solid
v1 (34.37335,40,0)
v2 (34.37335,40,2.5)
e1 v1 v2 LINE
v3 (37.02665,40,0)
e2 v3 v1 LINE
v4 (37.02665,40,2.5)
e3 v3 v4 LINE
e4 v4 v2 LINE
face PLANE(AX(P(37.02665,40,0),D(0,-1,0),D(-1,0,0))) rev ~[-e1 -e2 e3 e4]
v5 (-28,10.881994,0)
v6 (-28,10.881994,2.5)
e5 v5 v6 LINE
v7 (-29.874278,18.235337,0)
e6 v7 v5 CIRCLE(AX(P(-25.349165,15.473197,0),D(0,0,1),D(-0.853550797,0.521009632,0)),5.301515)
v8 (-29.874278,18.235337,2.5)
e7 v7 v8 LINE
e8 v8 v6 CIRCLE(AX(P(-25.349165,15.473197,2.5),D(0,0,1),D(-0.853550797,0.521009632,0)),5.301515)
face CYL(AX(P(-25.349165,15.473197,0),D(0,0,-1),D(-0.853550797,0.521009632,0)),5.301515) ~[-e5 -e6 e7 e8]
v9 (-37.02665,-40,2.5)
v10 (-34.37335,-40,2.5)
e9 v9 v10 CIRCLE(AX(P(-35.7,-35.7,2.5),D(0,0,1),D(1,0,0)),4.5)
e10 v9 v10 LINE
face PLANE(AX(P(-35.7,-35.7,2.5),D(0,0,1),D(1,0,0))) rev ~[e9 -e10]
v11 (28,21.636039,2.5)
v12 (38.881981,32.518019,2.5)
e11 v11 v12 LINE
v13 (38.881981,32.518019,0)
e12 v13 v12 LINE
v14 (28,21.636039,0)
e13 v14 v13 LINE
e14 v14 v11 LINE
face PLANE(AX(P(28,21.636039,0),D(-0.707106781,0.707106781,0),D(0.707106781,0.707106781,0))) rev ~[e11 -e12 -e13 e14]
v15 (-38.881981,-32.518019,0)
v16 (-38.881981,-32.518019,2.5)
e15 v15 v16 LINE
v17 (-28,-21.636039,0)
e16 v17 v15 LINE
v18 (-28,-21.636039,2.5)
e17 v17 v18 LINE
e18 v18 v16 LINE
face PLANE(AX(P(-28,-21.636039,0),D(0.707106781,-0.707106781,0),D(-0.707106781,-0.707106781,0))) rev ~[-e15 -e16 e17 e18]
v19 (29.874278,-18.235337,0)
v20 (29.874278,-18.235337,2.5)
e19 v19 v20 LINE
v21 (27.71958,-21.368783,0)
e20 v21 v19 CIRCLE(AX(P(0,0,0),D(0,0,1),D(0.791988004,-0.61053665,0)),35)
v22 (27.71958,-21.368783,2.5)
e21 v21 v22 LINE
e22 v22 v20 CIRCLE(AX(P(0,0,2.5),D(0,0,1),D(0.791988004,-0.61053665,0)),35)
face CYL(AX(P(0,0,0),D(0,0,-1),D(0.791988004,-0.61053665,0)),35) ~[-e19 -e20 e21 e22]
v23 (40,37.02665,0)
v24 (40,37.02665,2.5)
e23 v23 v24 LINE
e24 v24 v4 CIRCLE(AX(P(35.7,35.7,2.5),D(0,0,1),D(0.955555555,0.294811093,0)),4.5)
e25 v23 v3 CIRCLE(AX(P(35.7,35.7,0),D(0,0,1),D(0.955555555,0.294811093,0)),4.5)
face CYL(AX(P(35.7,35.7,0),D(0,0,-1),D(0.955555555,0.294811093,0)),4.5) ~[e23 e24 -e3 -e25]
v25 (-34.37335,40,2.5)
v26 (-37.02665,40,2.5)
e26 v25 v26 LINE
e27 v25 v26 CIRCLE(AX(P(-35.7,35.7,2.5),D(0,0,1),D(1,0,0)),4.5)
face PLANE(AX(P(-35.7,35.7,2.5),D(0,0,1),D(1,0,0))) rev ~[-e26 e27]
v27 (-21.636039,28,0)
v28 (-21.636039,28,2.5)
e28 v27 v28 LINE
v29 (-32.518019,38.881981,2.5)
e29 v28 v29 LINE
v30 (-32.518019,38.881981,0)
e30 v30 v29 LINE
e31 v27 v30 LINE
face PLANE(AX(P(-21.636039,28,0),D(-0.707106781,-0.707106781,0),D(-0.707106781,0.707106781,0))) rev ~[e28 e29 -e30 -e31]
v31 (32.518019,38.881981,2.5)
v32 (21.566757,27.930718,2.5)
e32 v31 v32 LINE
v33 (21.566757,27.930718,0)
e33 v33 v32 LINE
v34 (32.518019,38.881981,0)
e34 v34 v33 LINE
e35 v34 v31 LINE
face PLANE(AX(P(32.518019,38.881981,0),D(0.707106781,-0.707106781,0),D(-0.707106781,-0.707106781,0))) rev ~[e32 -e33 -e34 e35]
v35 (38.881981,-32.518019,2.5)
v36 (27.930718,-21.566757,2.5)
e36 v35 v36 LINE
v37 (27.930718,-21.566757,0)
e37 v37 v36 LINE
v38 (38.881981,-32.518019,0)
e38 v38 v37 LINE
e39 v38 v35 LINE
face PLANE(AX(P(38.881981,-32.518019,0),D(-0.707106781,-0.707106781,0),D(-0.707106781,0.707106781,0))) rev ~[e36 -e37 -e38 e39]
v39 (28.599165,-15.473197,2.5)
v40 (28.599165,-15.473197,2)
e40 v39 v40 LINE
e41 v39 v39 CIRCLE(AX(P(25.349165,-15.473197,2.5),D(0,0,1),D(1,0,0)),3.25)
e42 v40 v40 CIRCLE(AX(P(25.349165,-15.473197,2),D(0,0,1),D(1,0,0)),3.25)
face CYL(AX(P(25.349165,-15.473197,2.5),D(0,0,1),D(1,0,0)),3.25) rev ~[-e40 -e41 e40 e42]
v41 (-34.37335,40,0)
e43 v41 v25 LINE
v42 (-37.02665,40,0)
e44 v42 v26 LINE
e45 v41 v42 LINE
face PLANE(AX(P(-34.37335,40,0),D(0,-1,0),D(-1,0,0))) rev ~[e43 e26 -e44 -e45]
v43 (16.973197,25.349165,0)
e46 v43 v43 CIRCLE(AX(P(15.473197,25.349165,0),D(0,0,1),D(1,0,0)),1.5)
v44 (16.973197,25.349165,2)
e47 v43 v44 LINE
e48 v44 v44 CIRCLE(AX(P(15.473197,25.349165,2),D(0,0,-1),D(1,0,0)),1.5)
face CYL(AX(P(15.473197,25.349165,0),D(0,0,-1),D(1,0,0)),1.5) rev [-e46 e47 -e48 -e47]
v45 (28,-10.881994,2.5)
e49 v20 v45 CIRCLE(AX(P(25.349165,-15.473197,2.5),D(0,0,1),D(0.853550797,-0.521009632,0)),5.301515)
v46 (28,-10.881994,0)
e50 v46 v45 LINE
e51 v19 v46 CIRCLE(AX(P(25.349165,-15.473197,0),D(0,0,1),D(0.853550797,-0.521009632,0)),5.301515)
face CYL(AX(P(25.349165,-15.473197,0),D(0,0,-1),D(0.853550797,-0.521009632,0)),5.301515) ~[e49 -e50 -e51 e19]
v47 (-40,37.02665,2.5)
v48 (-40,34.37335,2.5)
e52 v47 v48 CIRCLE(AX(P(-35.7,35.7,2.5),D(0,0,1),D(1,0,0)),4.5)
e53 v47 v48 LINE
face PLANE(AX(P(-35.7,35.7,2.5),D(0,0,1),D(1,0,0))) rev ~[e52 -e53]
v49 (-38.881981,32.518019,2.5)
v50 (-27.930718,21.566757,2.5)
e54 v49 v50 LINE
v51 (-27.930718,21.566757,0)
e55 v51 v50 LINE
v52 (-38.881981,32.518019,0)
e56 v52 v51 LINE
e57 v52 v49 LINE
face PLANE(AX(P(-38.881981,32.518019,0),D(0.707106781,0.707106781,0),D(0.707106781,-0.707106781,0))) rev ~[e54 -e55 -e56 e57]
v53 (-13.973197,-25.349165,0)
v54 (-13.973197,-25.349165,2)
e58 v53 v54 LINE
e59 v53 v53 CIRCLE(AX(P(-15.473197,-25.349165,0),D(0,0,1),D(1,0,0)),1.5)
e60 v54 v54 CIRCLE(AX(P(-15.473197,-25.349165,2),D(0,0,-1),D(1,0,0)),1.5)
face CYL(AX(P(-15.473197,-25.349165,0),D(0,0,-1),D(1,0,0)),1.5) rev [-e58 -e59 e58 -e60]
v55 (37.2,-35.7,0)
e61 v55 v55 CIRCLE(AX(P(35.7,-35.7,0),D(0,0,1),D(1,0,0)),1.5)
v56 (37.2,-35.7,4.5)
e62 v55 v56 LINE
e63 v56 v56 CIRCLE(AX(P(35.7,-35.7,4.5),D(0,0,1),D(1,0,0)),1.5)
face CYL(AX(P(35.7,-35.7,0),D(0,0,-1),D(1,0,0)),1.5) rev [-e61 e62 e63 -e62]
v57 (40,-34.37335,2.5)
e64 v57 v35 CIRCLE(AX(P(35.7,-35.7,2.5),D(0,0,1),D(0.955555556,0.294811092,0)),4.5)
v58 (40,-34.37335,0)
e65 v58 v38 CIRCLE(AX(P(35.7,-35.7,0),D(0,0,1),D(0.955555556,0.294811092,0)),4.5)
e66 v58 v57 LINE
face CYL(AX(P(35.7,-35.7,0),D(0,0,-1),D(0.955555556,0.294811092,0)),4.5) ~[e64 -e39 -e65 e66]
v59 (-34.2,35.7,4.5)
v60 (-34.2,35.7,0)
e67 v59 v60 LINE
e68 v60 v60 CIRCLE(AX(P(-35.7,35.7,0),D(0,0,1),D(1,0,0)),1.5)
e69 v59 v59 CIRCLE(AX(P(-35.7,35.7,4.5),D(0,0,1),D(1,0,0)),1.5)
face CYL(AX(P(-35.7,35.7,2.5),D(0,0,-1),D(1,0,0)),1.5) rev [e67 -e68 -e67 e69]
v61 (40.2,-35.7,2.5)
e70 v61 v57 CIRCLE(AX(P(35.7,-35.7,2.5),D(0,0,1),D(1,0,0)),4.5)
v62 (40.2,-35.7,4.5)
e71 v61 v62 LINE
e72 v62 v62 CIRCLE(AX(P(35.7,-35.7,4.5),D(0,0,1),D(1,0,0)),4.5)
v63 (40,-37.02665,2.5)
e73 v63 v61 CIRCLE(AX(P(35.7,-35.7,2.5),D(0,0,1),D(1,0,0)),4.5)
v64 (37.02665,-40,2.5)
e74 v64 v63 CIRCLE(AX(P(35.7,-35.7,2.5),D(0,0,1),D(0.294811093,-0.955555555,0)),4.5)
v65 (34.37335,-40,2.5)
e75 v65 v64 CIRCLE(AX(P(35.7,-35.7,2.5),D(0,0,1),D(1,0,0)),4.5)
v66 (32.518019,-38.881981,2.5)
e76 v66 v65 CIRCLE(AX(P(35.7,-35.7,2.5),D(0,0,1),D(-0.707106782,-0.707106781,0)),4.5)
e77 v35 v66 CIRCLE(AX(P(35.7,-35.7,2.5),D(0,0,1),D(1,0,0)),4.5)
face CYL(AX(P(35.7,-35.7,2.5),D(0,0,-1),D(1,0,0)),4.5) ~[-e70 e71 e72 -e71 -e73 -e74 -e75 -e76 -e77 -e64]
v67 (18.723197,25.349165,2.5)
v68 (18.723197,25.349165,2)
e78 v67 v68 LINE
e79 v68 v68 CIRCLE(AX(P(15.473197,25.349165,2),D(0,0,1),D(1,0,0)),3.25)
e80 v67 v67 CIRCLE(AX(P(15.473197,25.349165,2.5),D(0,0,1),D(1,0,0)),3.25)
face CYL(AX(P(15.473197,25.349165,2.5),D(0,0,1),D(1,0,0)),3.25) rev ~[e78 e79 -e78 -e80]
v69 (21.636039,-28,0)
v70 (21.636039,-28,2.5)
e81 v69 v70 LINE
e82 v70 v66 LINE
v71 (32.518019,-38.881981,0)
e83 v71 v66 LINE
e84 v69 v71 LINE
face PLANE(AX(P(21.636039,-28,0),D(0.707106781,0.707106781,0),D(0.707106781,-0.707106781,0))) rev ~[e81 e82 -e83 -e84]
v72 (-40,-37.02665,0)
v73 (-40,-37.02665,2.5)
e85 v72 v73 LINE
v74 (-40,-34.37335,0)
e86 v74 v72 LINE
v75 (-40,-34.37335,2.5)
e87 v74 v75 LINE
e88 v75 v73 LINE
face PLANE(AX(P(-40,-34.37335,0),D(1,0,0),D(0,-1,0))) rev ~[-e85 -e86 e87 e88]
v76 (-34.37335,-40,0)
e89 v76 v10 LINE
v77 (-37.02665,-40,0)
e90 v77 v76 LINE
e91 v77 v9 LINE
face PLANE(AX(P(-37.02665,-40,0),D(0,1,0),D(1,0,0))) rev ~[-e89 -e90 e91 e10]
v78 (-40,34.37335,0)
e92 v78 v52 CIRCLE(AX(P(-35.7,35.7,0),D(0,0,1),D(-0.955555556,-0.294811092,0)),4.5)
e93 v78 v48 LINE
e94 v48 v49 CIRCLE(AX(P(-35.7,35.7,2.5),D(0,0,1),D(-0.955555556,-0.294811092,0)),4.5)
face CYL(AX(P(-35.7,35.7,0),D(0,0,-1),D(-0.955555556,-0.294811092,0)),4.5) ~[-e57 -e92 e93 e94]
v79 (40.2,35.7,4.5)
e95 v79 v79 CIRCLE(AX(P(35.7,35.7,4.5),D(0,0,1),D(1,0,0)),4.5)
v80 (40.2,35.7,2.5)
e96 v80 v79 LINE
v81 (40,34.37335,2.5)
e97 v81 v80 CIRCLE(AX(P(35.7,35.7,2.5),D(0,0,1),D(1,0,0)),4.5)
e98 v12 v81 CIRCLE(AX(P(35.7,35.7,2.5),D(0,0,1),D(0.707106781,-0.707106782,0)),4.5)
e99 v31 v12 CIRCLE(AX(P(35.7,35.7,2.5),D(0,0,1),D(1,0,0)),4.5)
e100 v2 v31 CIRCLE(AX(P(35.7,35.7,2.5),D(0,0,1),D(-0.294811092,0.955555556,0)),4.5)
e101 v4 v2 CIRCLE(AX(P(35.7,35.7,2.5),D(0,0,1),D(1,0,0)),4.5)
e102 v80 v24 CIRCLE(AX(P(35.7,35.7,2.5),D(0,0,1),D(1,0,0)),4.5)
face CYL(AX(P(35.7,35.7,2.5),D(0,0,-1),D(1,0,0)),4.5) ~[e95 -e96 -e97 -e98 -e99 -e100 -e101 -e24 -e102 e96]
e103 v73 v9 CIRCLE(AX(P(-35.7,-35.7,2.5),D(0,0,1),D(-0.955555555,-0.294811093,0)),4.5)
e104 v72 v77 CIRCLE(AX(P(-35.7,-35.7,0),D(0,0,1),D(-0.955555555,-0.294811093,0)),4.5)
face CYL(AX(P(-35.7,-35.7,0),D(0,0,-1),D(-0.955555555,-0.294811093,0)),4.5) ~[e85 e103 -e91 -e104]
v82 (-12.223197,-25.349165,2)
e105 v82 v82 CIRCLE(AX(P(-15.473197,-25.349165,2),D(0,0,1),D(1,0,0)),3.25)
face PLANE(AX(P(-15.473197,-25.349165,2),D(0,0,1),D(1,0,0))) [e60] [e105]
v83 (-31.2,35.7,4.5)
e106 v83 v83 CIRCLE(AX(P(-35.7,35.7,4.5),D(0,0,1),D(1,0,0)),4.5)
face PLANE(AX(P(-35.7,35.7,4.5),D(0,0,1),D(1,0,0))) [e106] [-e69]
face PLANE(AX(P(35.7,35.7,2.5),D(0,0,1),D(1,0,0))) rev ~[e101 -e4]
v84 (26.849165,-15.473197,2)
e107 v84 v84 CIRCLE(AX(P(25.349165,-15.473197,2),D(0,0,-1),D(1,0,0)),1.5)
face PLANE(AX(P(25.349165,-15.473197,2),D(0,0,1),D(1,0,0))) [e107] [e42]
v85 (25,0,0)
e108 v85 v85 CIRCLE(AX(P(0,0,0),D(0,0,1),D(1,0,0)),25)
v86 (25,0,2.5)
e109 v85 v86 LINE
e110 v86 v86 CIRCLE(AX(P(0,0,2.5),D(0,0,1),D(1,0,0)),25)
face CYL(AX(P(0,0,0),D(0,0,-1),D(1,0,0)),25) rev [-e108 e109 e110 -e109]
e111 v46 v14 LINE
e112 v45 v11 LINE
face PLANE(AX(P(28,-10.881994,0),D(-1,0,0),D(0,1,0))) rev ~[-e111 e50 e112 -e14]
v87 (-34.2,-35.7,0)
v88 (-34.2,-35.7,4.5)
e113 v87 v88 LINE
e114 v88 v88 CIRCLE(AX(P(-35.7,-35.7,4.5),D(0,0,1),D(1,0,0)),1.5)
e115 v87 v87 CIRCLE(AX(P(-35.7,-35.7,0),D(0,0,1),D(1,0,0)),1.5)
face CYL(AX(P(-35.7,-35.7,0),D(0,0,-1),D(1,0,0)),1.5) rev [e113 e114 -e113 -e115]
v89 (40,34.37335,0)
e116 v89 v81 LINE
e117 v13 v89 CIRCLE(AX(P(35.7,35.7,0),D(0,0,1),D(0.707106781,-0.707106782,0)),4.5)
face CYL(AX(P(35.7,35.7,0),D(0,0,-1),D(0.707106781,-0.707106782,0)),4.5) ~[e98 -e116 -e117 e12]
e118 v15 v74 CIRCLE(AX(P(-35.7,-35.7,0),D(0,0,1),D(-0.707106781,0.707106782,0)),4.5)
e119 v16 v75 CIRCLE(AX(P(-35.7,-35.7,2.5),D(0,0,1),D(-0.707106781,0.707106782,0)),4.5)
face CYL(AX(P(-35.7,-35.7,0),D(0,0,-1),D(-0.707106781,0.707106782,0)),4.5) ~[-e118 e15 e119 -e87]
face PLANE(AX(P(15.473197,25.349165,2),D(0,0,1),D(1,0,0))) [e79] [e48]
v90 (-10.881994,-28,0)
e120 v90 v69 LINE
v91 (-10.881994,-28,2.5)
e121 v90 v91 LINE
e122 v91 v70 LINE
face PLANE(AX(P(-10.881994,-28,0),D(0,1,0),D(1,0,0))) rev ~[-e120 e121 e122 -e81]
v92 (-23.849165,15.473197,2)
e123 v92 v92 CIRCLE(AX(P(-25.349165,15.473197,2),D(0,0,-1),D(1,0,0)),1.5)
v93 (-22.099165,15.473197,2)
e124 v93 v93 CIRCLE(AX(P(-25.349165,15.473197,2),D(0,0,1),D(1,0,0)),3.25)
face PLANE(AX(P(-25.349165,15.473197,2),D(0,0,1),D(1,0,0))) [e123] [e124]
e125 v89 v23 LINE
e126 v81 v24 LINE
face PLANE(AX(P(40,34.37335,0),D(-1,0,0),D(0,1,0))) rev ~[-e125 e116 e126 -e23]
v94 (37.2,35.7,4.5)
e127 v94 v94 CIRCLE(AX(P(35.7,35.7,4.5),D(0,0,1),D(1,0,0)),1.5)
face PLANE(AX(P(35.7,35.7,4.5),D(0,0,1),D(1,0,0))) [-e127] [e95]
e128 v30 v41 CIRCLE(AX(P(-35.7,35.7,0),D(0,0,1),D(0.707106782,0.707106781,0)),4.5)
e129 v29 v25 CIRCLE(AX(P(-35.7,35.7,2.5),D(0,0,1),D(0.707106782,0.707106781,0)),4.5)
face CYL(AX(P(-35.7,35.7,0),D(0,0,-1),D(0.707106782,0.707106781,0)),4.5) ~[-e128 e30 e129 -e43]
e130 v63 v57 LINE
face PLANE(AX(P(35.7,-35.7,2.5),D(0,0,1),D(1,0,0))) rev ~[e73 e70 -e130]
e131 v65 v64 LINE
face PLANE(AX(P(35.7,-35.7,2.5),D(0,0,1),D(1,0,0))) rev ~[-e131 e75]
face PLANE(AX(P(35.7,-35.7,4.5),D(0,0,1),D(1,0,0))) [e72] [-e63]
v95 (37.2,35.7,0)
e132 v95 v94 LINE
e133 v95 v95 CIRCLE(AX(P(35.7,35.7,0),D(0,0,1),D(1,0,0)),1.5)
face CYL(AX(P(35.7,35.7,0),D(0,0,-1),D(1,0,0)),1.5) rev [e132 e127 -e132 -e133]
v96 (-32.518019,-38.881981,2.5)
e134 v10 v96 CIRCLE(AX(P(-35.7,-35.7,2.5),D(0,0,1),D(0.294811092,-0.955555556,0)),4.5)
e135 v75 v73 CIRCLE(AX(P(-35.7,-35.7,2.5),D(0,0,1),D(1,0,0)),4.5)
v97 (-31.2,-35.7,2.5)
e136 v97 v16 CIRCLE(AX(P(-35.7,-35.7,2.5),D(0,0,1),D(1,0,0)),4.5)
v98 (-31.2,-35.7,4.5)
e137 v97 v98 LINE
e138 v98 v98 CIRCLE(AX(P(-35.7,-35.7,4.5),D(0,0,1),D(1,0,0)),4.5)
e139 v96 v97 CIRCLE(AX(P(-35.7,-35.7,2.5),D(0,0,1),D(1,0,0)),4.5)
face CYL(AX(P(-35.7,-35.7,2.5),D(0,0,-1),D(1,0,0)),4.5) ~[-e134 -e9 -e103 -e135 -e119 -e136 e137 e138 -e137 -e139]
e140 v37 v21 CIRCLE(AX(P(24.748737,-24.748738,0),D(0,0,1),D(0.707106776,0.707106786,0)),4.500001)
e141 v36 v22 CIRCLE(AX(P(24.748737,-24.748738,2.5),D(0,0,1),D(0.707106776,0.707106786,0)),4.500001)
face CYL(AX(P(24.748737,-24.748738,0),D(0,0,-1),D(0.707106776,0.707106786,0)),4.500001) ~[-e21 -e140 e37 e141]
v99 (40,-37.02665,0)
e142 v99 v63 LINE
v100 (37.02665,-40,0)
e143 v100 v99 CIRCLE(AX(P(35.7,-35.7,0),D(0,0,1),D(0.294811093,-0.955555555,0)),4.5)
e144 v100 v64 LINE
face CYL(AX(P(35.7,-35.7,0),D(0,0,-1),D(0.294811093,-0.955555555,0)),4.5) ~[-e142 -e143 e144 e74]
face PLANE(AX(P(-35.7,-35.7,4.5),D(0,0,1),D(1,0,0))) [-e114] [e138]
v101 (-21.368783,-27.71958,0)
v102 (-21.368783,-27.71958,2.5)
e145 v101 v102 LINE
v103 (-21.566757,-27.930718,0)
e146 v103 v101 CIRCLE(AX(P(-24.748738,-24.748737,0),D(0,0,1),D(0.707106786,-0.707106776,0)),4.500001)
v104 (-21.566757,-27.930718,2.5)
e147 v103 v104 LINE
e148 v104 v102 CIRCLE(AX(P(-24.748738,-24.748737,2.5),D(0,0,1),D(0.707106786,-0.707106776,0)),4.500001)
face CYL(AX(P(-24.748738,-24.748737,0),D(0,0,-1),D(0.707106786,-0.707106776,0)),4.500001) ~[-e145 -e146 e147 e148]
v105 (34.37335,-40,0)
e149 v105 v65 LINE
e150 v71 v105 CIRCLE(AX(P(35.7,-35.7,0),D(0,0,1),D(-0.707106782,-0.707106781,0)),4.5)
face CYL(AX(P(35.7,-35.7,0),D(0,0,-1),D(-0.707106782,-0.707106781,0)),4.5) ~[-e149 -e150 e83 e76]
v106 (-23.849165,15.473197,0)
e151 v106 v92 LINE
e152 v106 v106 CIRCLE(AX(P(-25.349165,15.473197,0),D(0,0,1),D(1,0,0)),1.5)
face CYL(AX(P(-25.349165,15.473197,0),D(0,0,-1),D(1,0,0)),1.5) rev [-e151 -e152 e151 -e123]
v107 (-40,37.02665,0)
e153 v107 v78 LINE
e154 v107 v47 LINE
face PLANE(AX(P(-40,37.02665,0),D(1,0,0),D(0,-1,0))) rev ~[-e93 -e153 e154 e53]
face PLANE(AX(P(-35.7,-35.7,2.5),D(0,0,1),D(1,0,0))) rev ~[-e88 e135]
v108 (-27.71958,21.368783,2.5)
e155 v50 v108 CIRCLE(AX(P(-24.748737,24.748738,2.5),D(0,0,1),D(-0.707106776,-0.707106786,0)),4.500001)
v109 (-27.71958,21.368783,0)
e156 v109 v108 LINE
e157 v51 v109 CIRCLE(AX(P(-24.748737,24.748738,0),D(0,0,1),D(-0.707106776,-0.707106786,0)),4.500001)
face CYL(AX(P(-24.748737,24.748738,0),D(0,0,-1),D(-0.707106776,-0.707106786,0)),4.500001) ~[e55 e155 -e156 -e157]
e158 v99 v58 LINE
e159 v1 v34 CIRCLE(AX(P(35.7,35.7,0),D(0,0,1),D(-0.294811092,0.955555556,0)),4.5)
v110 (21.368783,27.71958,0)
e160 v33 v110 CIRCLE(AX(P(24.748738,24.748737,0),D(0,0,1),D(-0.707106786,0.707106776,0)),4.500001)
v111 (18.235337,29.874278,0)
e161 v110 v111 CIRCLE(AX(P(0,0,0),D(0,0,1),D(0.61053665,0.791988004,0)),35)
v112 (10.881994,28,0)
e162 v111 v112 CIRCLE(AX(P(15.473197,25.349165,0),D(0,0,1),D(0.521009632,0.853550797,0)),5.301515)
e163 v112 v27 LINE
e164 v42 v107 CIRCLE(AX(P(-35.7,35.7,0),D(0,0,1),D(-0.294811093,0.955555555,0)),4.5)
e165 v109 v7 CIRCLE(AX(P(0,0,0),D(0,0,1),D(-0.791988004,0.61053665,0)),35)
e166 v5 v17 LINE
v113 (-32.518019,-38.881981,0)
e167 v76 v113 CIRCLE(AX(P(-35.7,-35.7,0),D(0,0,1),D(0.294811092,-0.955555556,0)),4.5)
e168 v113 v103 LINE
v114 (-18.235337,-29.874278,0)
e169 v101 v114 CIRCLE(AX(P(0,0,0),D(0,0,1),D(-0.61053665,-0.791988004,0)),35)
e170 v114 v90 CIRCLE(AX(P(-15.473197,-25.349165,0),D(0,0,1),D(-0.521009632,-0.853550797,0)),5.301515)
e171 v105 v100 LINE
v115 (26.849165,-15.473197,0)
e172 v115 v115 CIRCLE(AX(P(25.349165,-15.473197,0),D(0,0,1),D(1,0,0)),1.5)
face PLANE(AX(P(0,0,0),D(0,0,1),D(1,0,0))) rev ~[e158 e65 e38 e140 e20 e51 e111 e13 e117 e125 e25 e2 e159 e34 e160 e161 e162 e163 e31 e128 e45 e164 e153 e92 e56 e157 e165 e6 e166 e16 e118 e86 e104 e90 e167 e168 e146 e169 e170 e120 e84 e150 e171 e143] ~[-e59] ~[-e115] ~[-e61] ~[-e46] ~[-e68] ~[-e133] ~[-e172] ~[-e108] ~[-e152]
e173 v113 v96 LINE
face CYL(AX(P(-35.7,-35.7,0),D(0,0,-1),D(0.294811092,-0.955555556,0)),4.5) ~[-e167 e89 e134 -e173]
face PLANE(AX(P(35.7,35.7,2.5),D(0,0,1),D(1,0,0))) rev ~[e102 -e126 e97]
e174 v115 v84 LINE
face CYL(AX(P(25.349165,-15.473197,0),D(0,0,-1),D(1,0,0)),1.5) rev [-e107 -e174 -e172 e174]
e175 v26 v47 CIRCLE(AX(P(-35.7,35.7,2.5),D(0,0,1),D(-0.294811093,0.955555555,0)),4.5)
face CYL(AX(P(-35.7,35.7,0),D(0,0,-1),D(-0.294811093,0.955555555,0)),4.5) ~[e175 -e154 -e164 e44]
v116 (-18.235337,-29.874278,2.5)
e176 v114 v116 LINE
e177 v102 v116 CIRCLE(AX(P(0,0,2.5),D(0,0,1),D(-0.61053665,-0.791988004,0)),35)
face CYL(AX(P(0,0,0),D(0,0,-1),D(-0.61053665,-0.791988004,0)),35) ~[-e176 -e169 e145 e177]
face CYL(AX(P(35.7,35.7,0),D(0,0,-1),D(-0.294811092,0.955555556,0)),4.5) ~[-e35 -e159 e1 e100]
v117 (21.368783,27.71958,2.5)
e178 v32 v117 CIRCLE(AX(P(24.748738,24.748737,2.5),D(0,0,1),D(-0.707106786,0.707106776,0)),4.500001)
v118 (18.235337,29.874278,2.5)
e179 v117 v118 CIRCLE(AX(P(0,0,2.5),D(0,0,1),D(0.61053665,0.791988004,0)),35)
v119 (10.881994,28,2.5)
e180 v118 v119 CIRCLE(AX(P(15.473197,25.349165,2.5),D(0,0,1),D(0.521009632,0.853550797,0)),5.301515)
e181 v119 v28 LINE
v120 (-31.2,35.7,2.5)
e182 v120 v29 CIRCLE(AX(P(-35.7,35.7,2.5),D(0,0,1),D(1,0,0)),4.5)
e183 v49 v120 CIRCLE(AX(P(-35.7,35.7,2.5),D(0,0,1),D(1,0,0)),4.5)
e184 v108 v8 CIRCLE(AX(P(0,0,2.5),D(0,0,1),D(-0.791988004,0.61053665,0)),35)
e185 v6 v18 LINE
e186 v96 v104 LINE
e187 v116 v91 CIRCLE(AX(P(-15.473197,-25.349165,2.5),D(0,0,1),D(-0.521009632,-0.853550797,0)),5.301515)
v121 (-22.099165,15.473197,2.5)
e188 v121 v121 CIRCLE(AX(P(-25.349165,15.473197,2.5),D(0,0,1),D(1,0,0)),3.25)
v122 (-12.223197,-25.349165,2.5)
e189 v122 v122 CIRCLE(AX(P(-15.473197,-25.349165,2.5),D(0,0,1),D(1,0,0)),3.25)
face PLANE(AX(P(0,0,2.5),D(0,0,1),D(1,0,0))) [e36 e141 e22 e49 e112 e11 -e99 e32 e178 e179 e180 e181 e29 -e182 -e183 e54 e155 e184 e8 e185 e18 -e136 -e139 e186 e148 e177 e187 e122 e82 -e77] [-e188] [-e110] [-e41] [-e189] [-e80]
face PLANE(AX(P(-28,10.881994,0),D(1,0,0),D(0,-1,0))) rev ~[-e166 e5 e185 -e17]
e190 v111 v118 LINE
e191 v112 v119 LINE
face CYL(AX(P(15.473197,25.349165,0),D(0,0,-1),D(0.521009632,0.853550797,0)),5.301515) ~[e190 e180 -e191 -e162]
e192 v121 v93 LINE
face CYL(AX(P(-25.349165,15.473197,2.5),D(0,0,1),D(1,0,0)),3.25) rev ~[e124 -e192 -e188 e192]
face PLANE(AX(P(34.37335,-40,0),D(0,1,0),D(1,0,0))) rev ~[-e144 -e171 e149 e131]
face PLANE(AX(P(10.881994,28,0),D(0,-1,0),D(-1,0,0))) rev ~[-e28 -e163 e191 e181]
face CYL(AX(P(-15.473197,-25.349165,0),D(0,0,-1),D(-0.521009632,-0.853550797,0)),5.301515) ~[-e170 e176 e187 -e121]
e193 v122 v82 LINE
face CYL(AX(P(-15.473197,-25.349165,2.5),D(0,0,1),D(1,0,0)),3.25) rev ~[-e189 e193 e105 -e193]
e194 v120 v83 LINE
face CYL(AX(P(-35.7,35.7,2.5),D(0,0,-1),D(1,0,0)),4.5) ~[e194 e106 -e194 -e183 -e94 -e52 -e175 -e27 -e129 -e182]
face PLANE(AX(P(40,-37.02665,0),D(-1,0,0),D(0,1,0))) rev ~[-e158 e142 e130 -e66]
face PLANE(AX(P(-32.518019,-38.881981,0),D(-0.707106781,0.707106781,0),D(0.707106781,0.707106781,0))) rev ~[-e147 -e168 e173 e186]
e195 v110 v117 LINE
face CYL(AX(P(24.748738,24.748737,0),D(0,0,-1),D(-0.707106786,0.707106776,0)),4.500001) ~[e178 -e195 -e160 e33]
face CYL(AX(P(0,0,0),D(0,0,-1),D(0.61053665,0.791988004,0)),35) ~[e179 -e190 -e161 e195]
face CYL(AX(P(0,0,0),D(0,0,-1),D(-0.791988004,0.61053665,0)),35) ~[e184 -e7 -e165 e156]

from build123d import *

# Parameters (mm, degrees)
SKETCH1_R           = 1.5
SKETCH1_R_2         = 25
BOSS_EXTRUDE1_DEPTH = 2.5
SKETCH2_R           = 3.25
CUT_EXTRUDE1_DEPTH  = 0.5
SKETCH4_R           = 4.5
SKETCH4_R_2         = 1.5
BOSS_EXTRUDE2_DEPTH = 2


with BuildPart() as part:
    # Sketch1 → Boss-Extrude1 (new body)
    with BuildSketch(Plane.XY):
        with BuildLine():
            Line((34.373350084, -40), (37.026649916, -40))
            ThreePointArc((37.026649916, -40), (38.881980515, -38.881980515), (40, -37.026649916))
            Line((40, -37.026649916), (40, -34.373350084))
            ThreePointArc((40, -34.373350084), (39.554292544, -33.377408993), (38.881980515, -32.518019485))
            Line((38.881980515, -32.518019485), (27.930717857, -21.566756826))
            ThreePointArc((27.930717857, -21.566756826), (27.826741101, -21.466071831), (27.719580149, -21.368782754))
            ThreePointArc((27.719580149, -21.368782754), (28.839517017, -19.831345346), (29.874277905, -18.235337114))
            ThreePointArc((29.874277905, -18.235337114), (30.48642799, -14.163770708), (28, -10.881994271))
            Line((28, -10.881994271), (28, 21.636038969))
            Line((28, 21.636038969), (38.881980515, 32.518019485))
            ThreePointArc((38.881980515, 32.518019485), (39.554292544, 33.377408993), (40, 34.373350084))
            Line((40, 34.373350084), (40, 37.026649916))
            ThreePointArc((40, 37.026649916), (38.881980515, 38.881980515), (37.026649916, 40))
            Line((37.026649916, 40), (34.373350084, 40))
            ThreePointArc((34.373350084, 40), (33.377408993, 39.554292544), (32.518019485, 38.881980515))
            Line((32.518019485, 38.881980515), (21.566756826, 27.930717857))
            ThreePointArc((21.566756826, 27.930717857), (21.466071831, 27.826741101), (21.368782754, 27.719580149))
            ThreePointArc((21.368782754, 27.719580149), (19.831345346, 28.839517017), (18.235337114, 29.874277905))
            ThreePointArc((18.235337114, 29.874277905), (14.163770708, 30.48642799), (10.881994271, 28))
            Line((10.881994271, 28), (-21.636038969, 28))
            Line((-21.636038969, 28), (-32.518019485, 38.881980515))
            ThreePointArc((-32.518019485, 38.881980515), (-33.377408993, 39.554292544), (-34.373350084, 40))
            Line((-34.373350084, 40), (-37.026649916, 40))
            ThreePointArc((-37.026649916, 40), (-38.881980515, 38.881980515), (-40, 37.026649916))
            Line((-40, 37.026649916), (-40, 34.373350084))
            ThreePointArc((-40, 34.373350084), (-39.554292544, 33.377408993), (-38.881980515, 32.518019485))
            Line((-38.881980515, 32.518019485), (-27.930717857, 21.566756826))
            ThreePointArc((-27.930717857, 21.566756826), (-27.826741101, 21.466071831), (-27.719580149, 21.368782754))
            ThreePointArc((-27.719580149, 21.368782754), (-28.839517017, 19.831345346), (-29.874277905, 18.235337114))
            ThreePointArc((-29.874277905, 18.235337114), (-30.48642799, 14.163770708), (-28, 10.881994271))
            Line((-28, 10.881994271), (-28, -21.636038969))
            Line((-28, -21.636038969), (-38.881980515, -32.518019485))
            ThreePointArc((-38.881980515, -32.518019485), (-39.554292544, -33.377408993), (-40, -34.373350084))
            Line((-40, -34.373350084), (-40, -37.026649916))
            ThreePointArc((-40, -37.026649916), (-38.881980515, -38.881980515), (-37.026649916, -40))
            Line((-37.026649916, -40), (-34.373350084, -40))
            ThreePointArc((-34.373350084, -40), (-33.377408993, -39.554292544), (-32.518019485, -38.881980515))
            Line((-32.518019485, -38.881980515), (-21.566756826, -27.930717857))
            ThreePointArc((-21.566756826, -27.930717857), (-21.466071831, -27.826741101), (-21.368782754, -27.719580149))
            ThreePointArc((-21.368782754, -27.719580149), (-19.831345346, -28.839517017), (-18.235337114, -29.874277905))
            ThreePointArc((-18.235337114, -29.874277905), (-14.163770708, -30.48642799), (-10.881994271, -28))
            Line((-10.881994271, -28), (21.636038969, -28))
            Line((21.636038969, -28), (32.518019485, -38.881980515))
            ThreePointArc((32.518019485, -38.881980515), (33.377408993, -39.554292544), (34.373350084, -40))
        make_face()
        with Locations((-35.7, -35.7)):
            Circle(SKETCH1_R, mode=Mode.SUBTRACT)
        with Locations((-15.473196637, -25.349165387)):
            Circle(SKETCH1_R, mode=Mode.SUBTRACT)
        with Locations((35.7, -35.7)):
            Circle(SKETCH1_R, mode=Mode.SUBTRACT)
        Circle(SKETCH1_R_2, mode=Mode.SUBTRACT)
        with Locations((25.349165387, -15.473196637)):
            Circle(SKETCH1_R, mode=Mode.SUBTRACT)
        with Locations((-25.349165387, 15.473196637)):
            Circle(SKETCH1_R, mode=Mode.SUBTRACT)
        with Locations((-35.7, 35.7)):
            Circle(SKETCH1_R, mode=Mode.SUBTRACT)
        with Locations((15.473196637, 25.349165387)):
            Circle(SKETCH1_R, mode=Mode.SUBTRACT)
        with Locations((35.7, 35.7)):
            Circle(SKETCH1_R, mode=Mode.SUBTRACT)
    extrude(amount=BOSS_EXTRUDE1_DEPTH)

    # Sketch2 → Cut-Extrude1 (cut)
    with BuildSketch(Plane.XY.offset(2.5)):
        with Locations((-15.473196637, -25.349165387)):
            Circle(SKETCH2_R)
        with Locations((25.349165387, -15.473196637)):
            Circle(SKETCH2_R)
        with Locations((15.473196637, 25.349165387)):
            Circle(SKETCH2_R)
        with Locations((-25.349165387, 15.473196637)):
            Circle(SKETCH2_R)
    extrude(amount=-CUT_EXTRUDE1_DEPTH, mode=Mode.SUBTRACT)

    # Sketch4 → Boss-Extrude2 (add)
    with BuildSketch(Plane.XY.offset(2.5)):
        with Locations((-35.7, 35.7)):
            Circle(SKETCH4_R)
        with Locations((-35.7, 35.7)):
            Circle(SKETCH4_R_2, mode=Mode.SUBTRACT)
        with Locations((35.7, 35.7)):
            Circle(SKETCH4_R)
        with Locations((35.7, 35.7)):
            Circle(SKETCH4_R_2, mode=Mode.SUBTRACT)
        with Locations((35.7, -35.7)):
            Circle(SKETCH4_R)
        with Locations((35.7, -35.7)):
            Circle(SKETCH4_R_2, mode=Mode.SUBTRACT)
        with Locations((-35.7, -35.7)):
            Circle(SKETCH4_R)
        with Locations((-35.7, -35.7)):
            Circle(SKETCH4_R_2, mode=Mode.SUBTRACT)
    extrude(amount=BOSS_EXTRUDE2_DEPTH)


solid = part.part
